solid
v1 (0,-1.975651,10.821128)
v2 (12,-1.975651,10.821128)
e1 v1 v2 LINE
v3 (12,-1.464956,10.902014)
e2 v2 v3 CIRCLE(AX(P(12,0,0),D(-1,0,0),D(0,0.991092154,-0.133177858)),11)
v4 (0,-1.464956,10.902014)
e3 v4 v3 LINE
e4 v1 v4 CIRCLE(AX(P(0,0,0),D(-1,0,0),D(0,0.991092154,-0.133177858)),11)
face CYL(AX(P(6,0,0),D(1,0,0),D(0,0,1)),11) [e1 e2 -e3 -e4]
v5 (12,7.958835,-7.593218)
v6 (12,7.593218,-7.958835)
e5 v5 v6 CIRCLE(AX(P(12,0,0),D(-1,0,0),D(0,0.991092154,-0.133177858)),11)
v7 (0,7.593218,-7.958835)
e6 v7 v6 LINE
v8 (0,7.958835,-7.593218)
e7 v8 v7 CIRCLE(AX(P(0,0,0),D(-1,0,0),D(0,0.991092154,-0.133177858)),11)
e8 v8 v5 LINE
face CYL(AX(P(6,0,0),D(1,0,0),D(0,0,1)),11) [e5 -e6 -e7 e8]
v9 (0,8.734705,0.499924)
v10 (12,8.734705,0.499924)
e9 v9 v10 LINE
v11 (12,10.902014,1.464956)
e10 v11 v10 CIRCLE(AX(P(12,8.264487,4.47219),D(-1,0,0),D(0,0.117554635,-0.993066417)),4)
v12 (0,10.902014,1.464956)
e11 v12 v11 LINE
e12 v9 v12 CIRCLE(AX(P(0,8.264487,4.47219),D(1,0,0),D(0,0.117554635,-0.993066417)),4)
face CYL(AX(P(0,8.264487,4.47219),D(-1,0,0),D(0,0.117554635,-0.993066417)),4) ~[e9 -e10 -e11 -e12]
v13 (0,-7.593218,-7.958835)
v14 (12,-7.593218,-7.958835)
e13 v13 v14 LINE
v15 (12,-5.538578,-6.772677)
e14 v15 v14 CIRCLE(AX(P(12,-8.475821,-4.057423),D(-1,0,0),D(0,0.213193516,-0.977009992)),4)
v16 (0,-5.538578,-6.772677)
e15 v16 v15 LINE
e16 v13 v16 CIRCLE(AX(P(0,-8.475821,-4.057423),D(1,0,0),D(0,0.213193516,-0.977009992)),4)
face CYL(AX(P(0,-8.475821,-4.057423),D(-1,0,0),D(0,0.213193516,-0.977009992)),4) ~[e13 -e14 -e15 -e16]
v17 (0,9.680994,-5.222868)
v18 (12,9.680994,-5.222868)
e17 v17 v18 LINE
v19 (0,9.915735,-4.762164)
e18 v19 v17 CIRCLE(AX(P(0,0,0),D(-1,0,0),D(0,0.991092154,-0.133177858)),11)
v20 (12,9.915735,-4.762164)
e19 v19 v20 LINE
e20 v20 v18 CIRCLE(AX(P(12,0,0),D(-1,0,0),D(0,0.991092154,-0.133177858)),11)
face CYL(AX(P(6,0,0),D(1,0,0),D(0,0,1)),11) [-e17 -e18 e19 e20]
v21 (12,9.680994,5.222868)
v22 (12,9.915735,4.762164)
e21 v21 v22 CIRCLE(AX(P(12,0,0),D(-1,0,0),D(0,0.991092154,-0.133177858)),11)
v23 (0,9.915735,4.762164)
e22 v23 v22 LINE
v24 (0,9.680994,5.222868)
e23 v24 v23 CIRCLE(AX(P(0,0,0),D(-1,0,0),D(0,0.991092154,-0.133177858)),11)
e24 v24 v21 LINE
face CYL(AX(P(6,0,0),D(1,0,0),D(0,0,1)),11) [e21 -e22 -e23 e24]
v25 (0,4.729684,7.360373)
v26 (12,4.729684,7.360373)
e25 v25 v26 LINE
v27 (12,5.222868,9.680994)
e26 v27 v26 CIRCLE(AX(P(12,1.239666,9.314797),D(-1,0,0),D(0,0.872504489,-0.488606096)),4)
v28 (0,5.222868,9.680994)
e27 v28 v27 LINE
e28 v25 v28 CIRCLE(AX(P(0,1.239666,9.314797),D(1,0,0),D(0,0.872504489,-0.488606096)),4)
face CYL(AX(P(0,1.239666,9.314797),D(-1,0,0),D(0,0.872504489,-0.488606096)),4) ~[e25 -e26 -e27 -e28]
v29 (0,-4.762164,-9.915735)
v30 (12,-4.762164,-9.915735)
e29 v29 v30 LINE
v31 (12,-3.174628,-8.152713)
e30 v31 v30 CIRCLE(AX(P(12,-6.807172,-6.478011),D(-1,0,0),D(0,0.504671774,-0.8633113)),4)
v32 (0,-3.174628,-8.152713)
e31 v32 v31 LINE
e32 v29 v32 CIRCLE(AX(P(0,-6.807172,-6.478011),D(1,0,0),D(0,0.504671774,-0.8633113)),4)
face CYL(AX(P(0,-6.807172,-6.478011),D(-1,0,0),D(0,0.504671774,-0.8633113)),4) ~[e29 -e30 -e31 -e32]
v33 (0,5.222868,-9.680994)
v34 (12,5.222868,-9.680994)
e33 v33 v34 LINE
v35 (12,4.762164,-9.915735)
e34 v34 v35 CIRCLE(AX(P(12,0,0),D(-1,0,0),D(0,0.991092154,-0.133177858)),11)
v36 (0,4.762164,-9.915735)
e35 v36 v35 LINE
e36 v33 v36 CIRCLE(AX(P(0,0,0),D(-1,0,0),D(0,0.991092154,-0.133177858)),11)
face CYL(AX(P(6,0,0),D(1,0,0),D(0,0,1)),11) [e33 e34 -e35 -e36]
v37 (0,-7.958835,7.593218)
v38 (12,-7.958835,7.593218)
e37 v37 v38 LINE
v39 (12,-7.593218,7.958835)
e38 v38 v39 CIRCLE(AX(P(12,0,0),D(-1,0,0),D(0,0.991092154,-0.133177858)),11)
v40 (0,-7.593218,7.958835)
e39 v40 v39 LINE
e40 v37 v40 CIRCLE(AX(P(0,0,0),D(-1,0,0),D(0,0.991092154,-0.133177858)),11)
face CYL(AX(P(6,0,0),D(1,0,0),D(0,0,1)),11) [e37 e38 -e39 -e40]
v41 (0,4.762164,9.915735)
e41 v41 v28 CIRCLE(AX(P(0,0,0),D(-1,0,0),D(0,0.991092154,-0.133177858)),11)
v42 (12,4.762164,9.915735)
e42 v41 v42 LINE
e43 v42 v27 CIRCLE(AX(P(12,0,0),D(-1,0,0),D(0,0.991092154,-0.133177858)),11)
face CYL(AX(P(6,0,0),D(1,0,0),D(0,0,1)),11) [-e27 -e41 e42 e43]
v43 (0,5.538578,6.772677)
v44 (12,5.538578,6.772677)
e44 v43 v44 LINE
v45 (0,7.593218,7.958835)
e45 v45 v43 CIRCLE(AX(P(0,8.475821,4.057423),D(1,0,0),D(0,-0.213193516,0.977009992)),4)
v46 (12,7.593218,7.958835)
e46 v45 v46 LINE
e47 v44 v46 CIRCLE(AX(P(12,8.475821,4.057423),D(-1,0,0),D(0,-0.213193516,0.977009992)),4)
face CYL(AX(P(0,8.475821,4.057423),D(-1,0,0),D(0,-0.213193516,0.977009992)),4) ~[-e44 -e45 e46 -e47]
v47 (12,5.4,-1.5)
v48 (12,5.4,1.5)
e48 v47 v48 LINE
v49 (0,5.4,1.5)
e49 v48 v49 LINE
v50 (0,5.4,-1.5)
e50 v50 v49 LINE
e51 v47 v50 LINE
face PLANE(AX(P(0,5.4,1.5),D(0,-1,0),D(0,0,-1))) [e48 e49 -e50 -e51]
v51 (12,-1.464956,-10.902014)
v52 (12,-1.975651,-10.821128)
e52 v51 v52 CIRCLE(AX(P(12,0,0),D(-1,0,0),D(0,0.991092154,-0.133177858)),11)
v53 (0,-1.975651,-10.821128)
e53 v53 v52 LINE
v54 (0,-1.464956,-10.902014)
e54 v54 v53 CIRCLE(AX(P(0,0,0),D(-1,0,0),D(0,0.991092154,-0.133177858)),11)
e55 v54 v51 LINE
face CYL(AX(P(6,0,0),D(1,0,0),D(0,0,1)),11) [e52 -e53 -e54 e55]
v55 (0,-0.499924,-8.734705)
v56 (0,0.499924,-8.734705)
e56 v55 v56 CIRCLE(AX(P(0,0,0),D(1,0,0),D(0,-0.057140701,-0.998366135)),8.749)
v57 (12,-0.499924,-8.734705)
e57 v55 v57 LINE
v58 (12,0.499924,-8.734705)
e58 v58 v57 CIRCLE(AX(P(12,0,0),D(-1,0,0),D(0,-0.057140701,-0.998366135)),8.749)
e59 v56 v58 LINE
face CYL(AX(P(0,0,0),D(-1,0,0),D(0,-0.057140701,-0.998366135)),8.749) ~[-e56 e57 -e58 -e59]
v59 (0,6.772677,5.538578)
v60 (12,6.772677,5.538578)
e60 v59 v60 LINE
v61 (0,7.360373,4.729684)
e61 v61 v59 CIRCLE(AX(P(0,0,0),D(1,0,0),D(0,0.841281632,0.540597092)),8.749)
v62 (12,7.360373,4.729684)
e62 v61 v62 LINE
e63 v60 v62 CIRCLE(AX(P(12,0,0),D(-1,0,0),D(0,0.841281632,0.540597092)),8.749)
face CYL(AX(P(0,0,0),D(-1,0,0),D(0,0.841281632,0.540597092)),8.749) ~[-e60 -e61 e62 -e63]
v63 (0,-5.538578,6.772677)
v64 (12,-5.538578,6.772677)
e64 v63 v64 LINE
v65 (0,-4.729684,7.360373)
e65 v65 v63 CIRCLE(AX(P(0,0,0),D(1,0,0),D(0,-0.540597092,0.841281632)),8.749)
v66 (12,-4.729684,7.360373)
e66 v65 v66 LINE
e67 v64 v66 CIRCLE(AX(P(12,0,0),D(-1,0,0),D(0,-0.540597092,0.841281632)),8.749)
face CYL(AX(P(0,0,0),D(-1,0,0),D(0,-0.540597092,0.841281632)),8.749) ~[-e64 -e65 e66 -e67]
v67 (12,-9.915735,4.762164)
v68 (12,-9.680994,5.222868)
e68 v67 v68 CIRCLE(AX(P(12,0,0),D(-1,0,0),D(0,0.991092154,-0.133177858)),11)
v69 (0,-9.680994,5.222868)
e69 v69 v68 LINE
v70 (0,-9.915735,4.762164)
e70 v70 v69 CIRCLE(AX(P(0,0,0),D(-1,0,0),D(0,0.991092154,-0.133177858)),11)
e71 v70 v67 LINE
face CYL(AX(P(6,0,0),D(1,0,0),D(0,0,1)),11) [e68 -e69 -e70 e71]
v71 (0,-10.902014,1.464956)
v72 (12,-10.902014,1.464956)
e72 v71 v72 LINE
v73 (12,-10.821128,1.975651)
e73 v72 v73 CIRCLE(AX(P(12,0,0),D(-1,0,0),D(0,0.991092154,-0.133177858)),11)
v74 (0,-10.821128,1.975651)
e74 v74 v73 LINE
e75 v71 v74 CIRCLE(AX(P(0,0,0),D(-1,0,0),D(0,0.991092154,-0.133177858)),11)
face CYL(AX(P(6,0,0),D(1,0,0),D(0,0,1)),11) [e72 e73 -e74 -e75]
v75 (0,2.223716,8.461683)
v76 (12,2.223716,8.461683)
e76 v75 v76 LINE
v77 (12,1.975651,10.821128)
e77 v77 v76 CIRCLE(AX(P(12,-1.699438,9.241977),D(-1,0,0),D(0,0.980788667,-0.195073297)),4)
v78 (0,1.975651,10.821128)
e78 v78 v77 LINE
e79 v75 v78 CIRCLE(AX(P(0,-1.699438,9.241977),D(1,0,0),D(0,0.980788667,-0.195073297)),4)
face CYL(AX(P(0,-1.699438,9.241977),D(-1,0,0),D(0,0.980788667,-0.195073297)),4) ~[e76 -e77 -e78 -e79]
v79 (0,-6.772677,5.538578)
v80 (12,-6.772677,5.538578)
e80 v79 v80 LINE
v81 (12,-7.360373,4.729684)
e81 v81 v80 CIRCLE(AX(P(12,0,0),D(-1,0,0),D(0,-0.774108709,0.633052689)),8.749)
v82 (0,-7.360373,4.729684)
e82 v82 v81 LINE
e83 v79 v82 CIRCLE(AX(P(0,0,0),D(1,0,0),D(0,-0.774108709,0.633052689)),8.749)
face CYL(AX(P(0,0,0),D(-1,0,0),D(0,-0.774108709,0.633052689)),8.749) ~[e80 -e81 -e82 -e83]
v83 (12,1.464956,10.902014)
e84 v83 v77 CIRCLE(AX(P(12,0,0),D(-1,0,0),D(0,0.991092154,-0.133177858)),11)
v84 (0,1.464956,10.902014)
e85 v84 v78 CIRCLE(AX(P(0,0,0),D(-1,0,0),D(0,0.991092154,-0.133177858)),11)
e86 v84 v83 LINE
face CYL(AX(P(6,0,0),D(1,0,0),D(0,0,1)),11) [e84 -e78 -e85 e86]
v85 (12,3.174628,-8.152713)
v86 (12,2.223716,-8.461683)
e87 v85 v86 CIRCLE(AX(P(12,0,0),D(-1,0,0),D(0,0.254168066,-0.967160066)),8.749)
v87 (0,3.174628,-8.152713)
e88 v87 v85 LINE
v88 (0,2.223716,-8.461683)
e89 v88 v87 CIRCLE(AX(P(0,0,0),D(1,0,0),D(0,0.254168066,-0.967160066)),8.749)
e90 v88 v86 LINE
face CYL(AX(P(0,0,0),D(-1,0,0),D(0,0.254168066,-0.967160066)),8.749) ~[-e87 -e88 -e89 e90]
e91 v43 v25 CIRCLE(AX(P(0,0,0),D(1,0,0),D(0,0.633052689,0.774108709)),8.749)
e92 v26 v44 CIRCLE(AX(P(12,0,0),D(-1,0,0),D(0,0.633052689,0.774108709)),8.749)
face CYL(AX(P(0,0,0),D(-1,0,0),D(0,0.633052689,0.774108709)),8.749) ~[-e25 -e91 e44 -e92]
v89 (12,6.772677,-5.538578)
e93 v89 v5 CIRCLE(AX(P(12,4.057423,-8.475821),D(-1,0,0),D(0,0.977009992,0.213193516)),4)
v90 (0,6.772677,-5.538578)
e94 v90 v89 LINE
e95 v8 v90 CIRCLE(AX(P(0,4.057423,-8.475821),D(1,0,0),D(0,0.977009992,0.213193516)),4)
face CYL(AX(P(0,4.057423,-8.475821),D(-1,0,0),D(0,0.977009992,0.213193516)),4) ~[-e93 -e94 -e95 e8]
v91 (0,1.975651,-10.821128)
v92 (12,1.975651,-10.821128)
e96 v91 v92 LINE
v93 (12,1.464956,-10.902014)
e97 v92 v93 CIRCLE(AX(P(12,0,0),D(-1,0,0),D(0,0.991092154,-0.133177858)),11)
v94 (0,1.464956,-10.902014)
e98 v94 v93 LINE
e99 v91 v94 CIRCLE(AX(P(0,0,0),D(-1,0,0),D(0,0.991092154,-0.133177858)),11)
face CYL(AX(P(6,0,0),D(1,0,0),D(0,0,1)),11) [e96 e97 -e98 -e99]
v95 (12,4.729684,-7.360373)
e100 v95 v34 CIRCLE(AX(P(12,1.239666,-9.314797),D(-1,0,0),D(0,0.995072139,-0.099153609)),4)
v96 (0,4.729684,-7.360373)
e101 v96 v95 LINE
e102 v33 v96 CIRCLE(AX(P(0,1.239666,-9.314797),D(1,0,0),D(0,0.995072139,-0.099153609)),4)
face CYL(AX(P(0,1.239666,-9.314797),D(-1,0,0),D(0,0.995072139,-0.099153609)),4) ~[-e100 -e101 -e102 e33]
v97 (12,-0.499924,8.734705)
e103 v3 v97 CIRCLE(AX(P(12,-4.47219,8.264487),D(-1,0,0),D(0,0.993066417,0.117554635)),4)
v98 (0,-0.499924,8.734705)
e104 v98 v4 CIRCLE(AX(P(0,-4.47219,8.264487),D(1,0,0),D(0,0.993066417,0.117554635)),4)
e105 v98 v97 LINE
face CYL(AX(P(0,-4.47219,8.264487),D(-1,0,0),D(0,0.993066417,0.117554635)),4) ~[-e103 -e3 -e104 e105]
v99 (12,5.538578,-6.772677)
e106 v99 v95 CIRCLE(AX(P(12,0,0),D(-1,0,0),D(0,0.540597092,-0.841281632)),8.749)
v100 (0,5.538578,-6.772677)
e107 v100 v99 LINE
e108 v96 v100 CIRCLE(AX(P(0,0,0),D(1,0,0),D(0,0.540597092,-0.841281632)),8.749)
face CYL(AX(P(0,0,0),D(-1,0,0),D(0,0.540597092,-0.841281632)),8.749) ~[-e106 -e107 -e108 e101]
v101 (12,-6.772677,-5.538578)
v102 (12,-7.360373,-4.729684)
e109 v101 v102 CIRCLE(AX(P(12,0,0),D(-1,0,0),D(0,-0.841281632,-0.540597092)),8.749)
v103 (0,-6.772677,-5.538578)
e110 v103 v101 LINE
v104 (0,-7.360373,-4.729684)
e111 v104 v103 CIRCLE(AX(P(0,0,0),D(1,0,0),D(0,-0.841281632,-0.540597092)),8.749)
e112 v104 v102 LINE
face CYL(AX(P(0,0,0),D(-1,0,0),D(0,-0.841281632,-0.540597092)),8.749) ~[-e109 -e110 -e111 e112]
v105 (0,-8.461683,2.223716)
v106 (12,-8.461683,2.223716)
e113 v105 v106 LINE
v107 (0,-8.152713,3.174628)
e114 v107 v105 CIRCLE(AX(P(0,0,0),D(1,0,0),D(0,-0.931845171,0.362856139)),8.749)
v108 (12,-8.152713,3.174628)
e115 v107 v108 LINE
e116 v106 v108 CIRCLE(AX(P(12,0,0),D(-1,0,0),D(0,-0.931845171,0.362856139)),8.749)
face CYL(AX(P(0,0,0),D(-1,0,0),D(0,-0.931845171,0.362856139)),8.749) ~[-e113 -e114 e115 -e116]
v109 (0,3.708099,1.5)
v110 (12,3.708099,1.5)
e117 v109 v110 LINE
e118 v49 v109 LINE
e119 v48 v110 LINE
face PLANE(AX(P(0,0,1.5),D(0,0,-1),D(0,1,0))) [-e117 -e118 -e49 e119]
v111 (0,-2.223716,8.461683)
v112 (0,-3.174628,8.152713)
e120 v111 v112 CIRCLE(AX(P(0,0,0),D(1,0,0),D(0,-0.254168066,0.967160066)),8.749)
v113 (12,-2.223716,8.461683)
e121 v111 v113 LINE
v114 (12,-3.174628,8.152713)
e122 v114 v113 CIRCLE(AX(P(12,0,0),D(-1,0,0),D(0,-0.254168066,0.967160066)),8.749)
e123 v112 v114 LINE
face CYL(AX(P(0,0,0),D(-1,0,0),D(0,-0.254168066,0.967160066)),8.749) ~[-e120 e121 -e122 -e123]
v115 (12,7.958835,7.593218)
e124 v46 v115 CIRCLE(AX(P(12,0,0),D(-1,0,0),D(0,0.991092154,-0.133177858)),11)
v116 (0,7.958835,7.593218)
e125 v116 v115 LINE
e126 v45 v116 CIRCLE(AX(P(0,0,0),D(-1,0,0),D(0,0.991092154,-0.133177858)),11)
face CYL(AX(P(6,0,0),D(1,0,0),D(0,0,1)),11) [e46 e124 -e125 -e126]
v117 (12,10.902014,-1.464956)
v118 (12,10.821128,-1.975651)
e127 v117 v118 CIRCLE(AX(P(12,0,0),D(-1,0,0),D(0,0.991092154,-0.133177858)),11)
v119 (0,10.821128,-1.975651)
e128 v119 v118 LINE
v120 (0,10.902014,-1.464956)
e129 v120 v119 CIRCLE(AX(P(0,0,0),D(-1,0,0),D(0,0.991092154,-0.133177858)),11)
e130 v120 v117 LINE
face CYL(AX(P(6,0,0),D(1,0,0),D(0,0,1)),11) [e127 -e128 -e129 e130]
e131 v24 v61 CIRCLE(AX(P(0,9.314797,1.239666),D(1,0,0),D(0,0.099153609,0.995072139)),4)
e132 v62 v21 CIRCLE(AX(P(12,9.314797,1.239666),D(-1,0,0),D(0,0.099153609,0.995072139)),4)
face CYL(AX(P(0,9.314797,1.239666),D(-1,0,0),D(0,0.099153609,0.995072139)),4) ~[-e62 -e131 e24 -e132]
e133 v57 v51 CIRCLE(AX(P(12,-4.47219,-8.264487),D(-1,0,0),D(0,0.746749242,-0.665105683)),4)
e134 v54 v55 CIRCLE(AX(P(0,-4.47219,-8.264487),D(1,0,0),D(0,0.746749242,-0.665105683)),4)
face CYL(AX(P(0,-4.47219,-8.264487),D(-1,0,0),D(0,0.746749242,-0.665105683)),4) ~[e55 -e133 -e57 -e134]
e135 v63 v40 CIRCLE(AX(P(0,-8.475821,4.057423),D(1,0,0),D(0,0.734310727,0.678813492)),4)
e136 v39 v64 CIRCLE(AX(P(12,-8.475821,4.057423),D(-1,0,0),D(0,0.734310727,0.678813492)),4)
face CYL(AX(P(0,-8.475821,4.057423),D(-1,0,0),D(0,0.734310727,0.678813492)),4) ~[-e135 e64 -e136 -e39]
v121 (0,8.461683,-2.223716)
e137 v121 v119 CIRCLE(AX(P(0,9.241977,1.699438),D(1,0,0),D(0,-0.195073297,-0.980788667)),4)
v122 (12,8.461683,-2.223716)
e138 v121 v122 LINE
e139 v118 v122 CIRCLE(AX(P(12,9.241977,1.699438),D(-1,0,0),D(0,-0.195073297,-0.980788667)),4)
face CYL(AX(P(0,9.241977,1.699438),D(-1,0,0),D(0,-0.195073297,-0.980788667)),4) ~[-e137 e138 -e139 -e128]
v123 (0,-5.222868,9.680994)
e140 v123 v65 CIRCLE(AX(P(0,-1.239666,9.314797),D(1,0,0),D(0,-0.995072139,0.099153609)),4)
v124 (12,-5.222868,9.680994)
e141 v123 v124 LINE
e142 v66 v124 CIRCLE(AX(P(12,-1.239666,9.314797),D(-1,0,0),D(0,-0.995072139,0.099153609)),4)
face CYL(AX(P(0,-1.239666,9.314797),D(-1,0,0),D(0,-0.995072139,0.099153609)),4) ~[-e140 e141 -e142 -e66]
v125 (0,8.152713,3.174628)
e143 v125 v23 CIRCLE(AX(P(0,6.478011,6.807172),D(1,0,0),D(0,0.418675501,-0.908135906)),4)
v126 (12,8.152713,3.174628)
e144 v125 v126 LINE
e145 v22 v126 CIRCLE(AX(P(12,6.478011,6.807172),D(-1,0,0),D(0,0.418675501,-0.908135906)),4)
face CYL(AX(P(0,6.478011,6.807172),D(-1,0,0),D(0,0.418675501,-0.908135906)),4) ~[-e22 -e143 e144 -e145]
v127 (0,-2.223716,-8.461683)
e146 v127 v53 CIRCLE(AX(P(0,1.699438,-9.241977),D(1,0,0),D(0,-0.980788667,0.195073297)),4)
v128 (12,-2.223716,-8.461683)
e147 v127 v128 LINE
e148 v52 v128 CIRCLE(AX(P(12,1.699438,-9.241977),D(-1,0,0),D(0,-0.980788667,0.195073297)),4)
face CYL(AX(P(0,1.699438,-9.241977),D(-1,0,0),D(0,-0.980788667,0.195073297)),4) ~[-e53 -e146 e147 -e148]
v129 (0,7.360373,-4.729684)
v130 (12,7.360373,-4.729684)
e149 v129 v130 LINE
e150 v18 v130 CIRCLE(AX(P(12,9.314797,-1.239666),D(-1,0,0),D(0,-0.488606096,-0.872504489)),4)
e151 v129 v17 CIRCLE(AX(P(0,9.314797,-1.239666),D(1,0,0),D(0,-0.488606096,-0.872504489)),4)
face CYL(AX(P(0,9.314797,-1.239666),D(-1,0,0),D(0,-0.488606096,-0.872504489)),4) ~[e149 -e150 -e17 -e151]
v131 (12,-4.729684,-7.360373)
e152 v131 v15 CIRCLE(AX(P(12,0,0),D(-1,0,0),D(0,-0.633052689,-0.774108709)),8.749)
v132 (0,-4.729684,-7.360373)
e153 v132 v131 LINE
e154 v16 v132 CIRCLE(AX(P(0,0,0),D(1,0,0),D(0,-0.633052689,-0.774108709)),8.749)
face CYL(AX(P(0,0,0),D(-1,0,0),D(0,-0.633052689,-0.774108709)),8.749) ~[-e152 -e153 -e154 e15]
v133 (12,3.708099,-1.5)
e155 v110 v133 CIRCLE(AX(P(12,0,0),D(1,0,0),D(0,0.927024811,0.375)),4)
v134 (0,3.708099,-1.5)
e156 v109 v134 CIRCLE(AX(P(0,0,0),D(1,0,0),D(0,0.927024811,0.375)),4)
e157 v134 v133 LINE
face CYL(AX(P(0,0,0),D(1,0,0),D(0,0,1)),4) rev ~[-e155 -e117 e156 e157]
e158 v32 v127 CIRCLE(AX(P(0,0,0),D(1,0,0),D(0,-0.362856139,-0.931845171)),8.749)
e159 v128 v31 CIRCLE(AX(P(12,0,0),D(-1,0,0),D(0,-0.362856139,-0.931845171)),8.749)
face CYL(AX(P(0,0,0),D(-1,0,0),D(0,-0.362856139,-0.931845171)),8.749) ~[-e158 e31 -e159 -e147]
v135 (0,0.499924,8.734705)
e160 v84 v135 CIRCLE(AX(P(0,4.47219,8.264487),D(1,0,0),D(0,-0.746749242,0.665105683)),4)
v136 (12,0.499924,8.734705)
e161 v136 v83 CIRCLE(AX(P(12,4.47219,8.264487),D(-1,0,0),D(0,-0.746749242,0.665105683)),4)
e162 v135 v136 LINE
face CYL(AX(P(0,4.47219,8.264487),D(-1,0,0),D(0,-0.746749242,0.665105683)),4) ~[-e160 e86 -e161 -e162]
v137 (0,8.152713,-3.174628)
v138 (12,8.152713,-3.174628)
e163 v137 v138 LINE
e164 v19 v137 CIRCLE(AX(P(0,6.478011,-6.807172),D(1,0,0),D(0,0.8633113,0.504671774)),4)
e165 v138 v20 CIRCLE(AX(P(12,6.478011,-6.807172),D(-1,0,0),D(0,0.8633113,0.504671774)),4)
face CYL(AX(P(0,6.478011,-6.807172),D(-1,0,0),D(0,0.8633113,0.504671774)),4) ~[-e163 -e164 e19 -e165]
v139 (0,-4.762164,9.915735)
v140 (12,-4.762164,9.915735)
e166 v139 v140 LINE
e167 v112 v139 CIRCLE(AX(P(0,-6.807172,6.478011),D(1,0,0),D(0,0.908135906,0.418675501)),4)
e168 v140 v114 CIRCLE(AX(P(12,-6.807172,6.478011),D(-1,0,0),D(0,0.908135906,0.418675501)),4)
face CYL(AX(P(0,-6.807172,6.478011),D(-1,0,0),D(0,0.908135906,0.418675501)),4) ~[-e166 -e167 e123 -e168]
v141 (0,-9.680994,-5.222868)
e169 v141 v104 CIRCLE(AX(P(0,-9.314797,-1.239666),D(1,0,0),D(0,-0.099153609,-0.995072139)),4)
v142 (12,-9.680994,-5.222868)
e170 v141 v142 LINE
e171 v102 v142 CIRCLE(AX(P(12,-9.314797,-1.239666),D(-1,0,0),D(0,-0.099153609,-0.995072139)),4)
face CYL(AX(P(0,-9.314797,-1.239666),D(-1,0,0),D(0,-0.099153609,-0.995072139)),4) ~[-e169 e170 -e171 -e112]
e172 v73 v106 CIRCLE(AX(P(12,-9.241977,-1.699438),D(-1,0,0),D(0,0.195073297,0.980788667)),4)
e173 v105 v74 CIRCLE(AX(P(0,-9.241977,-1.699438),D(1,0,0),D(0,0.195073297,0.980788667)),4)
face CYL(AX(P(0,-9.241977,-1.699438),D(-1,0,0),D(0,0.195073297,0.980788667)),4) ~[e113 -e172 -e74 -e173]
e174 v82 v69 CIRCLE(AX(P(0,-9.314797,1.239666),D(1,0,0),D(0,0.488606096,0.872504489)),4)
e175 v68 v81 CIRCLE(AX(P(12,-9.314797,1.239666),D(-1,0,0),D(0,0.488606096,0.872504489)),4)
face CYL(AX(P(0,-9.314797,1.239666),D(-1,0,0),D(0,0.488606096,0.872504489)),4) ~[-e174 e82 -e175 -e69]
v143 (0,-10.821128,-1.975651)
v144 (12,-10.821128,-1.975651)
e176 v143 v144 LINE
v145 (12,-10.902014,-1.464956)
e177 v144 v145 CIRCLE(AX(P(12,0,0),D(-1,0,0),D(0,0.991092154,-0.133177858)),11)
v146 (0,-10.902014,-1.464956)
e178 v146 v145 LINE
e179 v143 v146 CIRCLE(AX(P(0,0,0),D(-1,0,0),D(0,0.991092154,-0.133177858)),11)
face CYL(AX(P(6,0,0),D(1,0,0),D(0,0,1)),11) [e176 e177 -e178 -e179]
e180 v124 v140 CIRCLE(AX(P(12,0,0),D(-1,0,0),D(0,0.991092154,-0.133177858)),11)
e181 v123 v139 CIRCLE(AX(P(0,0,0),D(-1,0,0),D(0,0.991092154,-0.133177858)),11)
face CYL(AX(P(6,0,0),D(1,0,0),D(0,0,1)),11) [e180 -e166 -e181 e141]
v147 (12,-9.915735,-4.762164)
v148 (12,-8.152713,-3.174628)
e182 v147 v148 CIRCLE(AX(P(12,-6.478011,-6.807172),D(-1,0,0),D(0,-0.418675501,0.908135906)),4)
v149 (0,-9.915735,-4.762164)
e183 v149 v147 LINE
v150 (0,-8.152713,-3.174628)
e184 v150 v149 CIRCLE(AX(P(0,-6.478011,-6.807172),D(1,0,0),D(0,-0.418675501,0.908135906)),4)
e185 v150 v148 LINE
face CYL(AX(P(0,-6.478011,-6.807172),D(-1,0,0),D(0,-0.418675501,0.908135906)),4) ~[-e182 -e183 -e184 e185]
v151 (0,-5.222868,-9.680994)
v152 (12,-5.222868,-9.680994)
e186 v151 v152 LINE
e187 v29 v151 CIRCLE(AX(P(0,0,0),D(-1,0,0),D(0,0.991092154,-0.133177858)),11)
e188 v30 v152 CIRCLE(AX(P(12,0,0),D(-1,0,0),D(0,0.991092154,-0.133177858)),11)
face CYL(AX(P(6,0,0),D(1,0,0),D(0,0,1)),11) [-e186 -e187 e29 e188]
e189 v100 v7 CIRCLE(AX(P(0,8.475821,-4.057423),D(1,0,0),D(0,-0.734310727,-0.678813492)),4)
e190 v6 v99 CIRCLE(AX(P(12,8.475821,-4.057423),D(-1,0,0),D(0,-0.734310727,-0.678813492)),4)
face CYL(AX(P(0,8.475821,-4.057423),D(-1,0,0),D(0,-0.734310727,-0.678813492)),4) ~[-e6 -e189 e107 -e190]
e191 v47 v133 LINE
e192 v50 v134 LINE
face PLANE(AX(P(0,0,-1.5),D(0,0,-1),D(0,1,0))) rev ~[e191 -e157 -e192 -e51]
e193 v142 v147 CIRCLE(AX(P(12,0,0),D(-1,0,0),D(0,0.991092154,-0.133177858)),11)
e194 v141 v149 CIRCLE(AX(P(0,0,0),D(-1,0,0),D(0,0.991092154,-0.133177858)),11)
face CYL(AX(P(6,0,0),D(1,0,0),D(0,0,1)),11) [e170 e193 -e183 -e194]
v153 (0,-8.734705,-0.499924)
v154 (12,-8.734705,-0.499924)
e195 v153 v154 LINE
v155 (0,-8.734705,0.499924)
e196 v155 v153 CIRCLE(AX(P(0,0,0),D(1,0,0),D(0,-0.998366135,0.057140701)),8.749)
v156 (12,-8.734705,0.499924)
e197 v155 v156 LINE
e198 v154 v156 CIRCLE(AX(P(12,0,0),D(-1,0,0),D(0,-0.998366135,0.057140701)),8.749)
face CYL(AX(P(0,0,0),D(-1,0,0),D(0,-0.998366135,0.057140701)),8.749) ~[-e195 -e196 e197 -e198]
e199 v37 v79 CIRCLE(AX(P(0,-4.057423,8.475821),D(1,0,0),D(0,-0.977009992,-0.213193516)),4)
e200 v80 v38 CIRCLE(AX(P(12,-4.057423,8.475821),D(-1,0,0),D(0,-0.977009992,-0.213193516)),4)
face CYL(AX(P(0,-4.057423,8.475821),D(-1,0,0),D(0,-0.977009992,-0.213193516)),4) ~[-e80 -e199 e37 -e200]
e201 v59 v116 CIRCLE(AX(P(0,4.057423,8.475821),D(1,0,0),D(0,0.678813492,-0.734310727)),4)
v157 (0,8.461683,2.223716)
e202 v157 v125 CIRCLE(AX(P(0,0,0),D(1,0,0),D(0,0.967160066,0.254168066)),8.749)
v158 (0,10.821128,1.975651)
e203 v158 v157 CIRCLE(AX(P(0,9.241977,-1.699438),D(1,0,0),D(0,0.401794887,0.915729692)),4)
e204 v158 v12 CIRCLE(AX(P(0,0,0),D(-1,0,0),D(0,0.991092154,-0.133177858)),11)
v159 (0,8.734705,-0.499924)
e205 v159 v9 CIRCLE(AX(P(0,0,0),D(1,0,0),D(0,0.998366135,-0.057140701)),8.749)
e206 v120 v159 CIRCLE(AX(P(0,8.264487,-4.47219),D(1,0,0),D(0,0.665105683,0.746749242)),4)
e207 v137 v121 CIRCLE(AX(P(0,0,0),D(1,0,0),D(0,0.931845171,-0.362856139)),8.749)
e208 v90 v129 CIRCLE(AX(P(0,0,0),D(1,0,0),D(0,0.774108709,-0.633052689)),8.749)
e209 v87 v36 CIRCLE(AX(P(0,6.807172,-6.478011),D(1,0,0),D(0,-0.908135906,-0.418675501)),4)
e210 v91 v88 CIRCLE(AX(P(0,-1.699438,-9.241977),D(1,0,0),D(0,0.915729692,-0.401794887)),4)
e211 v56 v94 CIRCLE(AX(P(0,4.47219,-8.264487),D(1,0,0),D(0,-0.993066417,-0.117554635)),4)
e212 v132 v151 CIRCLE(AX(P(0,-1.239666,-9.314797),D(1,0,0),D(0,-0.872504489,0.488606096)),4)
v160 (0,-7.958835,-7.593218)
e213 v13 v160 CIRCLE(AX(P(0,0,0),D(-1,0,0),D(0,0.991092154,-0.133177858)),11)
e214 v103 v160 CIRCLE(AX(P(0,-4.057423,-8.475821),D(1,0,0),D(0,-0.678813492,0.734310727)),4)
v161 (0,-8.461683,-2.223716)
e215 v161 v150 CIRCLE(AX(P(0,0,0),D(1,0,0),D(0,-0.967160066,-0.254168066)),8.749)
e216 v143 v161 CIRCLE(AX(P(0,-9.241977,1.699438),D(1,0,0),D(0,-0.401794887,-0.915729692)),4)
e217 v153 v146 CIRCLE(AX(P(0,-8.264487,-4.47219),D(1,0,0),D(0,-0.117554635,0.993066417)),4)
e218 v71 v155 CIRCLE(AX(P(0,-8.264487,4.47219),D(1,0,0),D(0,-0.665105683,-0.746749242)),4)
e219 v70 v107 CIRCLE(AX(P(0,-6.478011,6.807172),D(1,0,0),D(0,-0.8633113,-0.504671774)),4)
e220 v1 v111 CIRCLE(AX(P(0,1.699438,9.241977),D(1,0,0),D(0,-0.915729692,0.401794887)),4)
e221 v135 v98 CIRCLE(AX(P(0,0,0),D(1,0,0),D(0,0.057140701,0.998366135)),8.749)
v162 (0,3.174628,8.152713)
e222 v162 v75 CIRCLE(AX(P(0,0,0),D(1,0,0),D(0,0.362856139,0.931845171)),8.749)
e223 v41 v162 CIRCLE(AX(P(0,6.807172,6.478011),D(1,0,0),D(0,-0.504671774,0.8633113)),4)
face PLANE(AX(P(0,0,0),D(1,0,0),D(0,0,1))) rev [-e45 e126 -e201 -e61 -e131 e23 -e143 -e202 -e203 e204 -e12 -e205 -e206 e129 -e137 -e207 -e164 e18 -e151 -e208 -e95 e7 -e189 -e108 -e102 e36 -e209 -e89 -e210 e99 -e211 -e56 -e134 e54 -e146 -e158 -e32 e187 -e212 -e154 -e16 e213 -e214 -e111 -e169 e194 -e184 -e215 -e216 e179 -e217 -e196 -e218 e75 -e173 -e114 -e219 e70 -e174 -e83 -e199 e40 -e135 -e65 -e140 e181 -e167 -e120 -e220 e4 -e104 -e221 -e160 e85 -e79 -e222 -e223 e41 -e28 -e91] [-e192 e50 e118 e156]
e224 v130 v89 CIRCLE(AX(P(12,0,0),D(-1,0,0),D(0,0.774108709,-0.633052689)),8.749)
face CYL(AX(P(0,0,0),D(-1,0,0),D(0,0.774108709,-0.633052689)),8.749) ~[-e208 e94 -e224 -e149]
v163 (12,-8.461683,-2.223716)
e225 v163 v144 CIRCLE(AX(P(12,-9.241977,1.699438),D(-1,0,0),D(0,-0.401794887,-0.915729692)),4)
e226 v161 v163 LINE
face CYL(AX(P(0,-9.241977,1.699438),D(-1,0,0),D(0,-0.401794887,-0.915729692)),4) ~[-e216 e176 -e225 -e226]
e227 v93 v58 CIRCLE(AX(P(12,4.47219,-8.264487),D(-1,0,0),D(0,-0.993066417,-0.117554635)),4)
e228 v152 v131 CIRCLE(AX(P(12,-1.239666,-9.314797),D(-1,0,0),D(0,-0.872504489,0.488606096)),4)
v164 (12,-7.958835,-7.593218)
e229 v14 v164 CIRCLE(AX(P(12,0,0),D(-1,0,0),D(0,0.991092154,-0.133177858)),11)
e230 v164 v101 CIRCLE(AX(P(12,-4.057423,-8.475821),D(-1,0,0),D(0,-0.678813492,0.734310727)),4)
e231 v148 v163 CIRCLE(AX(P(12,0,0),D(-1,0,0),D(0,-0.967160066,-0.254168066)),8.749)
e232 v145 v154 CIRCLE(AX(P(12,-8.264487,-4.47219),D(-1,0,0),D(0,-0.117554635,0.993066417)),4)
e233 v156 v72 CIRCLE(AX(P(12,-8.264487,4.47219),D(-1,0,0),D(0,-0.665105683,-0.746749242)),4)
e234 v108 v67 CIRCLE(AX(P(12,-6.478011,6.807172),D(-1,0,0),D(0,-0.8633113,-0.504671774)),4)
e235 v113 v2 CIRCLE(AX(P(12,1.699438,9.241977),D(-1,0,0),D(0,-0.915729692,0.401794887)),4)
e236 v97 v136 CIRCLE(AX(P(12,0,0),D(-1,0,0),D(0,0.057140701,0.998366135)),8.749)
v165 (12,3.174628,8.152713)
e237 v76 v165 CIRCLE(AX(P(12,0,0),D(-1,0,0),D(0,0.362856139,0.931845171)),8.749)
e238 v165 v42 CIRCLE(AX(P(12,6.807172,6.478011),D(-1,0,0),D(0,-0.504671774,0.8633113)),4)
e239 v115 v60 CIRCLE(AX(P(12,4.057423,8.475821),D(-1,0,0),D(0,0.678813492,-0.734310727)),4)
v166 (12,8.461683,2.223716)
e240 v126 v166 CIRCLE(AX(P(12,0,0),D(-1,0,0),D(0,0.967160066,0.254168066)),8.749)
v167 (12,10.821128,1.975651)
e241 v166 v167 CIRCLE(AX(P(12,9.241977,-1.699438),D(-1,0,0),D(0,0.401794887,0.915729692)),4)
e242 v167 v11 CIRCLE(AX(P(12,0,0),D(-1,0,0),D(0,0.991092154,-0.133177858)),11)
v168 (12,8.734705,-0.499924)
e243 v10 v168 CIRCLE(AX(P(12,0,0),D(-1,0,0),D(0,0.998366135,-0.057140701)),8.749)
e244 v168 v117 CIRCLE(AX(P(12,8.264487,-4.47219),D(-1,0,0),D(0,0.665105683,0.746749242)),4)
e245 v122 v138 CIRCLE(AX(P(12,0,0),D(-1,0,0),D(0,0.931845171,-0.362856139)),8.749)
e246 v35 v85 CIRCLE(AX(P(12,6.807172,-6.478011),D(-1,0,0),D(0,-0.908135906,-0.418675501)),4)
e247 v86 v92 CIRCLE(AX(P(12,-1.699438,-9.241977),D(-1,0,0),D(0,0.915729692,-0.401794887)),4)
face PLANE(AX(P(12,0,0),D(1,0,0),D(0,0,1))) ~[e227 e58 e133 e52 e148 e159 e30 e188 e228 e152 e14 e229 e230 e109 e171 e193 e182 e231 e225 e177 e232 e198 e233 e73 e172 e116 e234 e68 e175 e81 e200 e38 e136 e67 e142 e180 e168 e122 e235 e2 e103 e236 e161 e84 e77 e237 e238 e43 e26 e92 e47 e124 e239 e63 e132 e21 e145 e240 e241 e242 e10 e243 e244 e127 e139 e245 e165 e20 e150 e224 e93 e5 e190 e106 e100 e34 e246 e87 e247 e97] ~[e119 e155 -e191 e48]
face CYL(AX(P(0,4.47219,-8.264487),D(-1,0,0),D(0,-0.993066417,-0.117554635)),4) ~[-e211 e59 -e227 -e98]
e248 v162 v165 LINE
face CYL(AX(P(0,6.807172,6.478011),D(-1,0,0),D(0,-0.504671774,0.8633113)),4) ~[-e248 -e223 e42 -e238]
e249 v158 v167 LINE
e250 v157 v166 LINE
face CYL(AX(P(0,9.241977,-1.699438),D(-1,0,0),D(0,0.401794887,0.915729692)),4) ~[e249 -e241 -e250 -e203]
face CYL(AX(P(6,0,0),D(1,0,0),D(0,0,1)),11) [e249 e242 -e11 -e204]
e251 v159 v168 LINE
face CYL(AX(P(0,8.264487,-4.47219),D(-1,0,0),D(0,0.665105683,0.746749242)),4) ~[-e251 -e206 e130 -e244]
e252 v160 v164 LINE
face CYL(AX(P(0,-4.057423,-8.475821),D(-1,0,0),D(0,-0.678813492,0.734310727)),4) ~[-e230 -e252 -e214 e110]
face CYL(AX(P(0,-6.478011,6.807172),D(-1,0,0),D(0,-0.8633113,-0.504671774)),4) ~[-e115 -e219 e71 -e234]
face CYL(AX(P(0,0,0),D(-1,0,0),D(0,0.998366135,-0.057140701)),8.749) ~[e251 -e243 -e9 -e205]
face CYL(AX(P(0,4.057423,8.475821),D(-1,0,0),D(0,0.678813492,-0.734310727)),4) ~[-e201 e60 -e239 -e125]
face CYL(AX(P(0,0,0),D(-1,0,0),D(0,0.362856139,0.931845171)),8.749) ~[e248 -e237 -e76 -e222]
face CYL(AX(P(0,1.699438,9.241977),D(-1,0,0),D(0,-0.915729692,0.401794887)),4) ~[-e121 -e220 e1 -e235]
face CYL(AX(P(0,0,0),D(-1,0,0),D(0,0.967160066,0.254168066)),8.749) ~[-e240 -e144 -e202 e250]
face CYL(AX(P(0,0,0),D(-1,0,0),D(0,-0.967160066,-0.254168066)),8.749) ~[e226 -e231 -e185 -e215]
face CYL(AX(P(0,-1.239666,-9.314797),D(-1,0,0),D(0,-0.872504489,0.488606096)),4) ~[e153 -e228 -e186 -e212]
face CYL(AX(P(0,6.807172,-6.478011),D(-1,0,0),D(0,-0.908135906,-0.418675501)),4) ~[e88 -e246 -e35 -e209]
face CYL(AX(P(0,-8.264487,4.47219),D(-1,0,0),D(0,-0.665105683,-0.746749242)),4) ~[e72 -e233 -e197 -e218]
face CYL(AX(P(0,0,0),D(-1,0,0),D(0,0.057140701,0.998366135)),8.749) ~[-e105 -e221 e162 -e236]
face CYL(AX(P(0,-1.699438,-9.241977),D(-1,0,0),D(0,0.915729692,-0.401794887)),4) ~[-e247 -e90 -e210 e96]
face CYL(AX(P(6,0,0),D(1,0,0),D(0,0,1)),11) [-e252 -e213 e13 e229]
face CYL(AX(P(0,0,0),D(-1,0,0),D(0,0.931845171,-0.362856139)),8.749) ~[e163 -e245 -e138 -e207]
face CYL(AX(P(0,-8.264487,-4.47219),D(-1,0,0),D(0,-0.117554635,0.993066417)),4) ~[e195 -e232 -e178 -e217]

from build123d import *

# Parameters (mm, degrees)
BASPROSKE_W     = 12
BASPROSKE_H     = 11
TOOTHCUT_DEPTH  = 20.646882704
TEETHCUTS_COUNT = 20
TEETHCUTS_ANGLE = 342
BORSKE_R        = 4
BORE_DEPTH      = 50.0000508
KEYSKE_W        = 3
KEYSKE_H        = 5.4
KEYWAY_DEPTH    = 50.0000508


with BuildPart() as part:
    # BasProSke → Base-Revolve (revolve)
    with BuildSketch(Plane(origin=(0, 0, 0), x_dir=(1, 0, 0), z_dir=(0, 1, 0)), mode=Mode.PRIVATE) as base_revolve_sk:
        with Locations((6, 5.5)):
            Rectangle(BASPROSKE_W, BASPROSKE_H)
    revolve(base_revolve_sk.sketch.rotate(Axis((-10, 0, 0), (1, 0, 0)), 180), axis=Axis((-10, 0, 0), (1, 0, 0)))

    # TooCutSke → ToothCut (cut, through all)
    with BuildSketch(Plane(origin=(0, 0, 0), x_dir=(0, 0, -1), z_dir=(1, 0, 0))):
        with BuildLine():
            ThreePointArc((0.499924007, 8.734705318), (0, 8.749), (-0.499924007, 8.734705318))
            ThreePointArc((-0.499924007, 8.734705318), (-0.824302243, 9.905497836), (-1.485192705, 10.924909509))
            ThreePointArc((-1.485192705, 10.924909509), (0, 11.0254), (1.485192705, 10.924909509))
            ThreePointArc((1.485192705, 10.924909509), (0.824302243, 9.905497836), (0.499924007, 8.734705318))
        make_face()
    toothcut = extrude(amount=TOOTHCUT_DEPTH, mode=Mode.SUBTRACT)

    # TeethCuts: ToothCut ×20 about axis
    teethcuts_axis = Axis((-10, 0, 0), (1, 0, 0))
    for i in range(1, TEETHCUTS_COUNT):
        add(toothcut.rotate(teethcuts_axis, i * TEETHCUTS_ANGLE / (TEETHCUTS_COUNT - 1)), mode=Mode.SUBTRACT)

    # BorSke → Bore (cut, symmetric)
    with BuildSketch(Plane(origin=(0, 0, 0), x_dir=(0, 0, -1), z_dir=(1, 0, 0))):
        with Locations(Location((0, 0, 0), (0, 0, 180))):
            Circle(BORSKE_R)
    extrude(amount=BORE_DEPTH, both=True, mode=Mode.SUBTRACT)

    # KeySke → Keyway (cut, symmetric)
    with BuildSketch(Plane(origin=(0, 0, 0), x_dir=(0, 0, -1), z_dir=(1, 0, 0))):
        with Locations((0, 2.7)):
            Rectangle(KEYSKE_W, KEYSKE_H)
    extrude(amount=KEYWAY_DEPTH, both=True, mode=Mode.SUBTRACT)


solid = part.part
